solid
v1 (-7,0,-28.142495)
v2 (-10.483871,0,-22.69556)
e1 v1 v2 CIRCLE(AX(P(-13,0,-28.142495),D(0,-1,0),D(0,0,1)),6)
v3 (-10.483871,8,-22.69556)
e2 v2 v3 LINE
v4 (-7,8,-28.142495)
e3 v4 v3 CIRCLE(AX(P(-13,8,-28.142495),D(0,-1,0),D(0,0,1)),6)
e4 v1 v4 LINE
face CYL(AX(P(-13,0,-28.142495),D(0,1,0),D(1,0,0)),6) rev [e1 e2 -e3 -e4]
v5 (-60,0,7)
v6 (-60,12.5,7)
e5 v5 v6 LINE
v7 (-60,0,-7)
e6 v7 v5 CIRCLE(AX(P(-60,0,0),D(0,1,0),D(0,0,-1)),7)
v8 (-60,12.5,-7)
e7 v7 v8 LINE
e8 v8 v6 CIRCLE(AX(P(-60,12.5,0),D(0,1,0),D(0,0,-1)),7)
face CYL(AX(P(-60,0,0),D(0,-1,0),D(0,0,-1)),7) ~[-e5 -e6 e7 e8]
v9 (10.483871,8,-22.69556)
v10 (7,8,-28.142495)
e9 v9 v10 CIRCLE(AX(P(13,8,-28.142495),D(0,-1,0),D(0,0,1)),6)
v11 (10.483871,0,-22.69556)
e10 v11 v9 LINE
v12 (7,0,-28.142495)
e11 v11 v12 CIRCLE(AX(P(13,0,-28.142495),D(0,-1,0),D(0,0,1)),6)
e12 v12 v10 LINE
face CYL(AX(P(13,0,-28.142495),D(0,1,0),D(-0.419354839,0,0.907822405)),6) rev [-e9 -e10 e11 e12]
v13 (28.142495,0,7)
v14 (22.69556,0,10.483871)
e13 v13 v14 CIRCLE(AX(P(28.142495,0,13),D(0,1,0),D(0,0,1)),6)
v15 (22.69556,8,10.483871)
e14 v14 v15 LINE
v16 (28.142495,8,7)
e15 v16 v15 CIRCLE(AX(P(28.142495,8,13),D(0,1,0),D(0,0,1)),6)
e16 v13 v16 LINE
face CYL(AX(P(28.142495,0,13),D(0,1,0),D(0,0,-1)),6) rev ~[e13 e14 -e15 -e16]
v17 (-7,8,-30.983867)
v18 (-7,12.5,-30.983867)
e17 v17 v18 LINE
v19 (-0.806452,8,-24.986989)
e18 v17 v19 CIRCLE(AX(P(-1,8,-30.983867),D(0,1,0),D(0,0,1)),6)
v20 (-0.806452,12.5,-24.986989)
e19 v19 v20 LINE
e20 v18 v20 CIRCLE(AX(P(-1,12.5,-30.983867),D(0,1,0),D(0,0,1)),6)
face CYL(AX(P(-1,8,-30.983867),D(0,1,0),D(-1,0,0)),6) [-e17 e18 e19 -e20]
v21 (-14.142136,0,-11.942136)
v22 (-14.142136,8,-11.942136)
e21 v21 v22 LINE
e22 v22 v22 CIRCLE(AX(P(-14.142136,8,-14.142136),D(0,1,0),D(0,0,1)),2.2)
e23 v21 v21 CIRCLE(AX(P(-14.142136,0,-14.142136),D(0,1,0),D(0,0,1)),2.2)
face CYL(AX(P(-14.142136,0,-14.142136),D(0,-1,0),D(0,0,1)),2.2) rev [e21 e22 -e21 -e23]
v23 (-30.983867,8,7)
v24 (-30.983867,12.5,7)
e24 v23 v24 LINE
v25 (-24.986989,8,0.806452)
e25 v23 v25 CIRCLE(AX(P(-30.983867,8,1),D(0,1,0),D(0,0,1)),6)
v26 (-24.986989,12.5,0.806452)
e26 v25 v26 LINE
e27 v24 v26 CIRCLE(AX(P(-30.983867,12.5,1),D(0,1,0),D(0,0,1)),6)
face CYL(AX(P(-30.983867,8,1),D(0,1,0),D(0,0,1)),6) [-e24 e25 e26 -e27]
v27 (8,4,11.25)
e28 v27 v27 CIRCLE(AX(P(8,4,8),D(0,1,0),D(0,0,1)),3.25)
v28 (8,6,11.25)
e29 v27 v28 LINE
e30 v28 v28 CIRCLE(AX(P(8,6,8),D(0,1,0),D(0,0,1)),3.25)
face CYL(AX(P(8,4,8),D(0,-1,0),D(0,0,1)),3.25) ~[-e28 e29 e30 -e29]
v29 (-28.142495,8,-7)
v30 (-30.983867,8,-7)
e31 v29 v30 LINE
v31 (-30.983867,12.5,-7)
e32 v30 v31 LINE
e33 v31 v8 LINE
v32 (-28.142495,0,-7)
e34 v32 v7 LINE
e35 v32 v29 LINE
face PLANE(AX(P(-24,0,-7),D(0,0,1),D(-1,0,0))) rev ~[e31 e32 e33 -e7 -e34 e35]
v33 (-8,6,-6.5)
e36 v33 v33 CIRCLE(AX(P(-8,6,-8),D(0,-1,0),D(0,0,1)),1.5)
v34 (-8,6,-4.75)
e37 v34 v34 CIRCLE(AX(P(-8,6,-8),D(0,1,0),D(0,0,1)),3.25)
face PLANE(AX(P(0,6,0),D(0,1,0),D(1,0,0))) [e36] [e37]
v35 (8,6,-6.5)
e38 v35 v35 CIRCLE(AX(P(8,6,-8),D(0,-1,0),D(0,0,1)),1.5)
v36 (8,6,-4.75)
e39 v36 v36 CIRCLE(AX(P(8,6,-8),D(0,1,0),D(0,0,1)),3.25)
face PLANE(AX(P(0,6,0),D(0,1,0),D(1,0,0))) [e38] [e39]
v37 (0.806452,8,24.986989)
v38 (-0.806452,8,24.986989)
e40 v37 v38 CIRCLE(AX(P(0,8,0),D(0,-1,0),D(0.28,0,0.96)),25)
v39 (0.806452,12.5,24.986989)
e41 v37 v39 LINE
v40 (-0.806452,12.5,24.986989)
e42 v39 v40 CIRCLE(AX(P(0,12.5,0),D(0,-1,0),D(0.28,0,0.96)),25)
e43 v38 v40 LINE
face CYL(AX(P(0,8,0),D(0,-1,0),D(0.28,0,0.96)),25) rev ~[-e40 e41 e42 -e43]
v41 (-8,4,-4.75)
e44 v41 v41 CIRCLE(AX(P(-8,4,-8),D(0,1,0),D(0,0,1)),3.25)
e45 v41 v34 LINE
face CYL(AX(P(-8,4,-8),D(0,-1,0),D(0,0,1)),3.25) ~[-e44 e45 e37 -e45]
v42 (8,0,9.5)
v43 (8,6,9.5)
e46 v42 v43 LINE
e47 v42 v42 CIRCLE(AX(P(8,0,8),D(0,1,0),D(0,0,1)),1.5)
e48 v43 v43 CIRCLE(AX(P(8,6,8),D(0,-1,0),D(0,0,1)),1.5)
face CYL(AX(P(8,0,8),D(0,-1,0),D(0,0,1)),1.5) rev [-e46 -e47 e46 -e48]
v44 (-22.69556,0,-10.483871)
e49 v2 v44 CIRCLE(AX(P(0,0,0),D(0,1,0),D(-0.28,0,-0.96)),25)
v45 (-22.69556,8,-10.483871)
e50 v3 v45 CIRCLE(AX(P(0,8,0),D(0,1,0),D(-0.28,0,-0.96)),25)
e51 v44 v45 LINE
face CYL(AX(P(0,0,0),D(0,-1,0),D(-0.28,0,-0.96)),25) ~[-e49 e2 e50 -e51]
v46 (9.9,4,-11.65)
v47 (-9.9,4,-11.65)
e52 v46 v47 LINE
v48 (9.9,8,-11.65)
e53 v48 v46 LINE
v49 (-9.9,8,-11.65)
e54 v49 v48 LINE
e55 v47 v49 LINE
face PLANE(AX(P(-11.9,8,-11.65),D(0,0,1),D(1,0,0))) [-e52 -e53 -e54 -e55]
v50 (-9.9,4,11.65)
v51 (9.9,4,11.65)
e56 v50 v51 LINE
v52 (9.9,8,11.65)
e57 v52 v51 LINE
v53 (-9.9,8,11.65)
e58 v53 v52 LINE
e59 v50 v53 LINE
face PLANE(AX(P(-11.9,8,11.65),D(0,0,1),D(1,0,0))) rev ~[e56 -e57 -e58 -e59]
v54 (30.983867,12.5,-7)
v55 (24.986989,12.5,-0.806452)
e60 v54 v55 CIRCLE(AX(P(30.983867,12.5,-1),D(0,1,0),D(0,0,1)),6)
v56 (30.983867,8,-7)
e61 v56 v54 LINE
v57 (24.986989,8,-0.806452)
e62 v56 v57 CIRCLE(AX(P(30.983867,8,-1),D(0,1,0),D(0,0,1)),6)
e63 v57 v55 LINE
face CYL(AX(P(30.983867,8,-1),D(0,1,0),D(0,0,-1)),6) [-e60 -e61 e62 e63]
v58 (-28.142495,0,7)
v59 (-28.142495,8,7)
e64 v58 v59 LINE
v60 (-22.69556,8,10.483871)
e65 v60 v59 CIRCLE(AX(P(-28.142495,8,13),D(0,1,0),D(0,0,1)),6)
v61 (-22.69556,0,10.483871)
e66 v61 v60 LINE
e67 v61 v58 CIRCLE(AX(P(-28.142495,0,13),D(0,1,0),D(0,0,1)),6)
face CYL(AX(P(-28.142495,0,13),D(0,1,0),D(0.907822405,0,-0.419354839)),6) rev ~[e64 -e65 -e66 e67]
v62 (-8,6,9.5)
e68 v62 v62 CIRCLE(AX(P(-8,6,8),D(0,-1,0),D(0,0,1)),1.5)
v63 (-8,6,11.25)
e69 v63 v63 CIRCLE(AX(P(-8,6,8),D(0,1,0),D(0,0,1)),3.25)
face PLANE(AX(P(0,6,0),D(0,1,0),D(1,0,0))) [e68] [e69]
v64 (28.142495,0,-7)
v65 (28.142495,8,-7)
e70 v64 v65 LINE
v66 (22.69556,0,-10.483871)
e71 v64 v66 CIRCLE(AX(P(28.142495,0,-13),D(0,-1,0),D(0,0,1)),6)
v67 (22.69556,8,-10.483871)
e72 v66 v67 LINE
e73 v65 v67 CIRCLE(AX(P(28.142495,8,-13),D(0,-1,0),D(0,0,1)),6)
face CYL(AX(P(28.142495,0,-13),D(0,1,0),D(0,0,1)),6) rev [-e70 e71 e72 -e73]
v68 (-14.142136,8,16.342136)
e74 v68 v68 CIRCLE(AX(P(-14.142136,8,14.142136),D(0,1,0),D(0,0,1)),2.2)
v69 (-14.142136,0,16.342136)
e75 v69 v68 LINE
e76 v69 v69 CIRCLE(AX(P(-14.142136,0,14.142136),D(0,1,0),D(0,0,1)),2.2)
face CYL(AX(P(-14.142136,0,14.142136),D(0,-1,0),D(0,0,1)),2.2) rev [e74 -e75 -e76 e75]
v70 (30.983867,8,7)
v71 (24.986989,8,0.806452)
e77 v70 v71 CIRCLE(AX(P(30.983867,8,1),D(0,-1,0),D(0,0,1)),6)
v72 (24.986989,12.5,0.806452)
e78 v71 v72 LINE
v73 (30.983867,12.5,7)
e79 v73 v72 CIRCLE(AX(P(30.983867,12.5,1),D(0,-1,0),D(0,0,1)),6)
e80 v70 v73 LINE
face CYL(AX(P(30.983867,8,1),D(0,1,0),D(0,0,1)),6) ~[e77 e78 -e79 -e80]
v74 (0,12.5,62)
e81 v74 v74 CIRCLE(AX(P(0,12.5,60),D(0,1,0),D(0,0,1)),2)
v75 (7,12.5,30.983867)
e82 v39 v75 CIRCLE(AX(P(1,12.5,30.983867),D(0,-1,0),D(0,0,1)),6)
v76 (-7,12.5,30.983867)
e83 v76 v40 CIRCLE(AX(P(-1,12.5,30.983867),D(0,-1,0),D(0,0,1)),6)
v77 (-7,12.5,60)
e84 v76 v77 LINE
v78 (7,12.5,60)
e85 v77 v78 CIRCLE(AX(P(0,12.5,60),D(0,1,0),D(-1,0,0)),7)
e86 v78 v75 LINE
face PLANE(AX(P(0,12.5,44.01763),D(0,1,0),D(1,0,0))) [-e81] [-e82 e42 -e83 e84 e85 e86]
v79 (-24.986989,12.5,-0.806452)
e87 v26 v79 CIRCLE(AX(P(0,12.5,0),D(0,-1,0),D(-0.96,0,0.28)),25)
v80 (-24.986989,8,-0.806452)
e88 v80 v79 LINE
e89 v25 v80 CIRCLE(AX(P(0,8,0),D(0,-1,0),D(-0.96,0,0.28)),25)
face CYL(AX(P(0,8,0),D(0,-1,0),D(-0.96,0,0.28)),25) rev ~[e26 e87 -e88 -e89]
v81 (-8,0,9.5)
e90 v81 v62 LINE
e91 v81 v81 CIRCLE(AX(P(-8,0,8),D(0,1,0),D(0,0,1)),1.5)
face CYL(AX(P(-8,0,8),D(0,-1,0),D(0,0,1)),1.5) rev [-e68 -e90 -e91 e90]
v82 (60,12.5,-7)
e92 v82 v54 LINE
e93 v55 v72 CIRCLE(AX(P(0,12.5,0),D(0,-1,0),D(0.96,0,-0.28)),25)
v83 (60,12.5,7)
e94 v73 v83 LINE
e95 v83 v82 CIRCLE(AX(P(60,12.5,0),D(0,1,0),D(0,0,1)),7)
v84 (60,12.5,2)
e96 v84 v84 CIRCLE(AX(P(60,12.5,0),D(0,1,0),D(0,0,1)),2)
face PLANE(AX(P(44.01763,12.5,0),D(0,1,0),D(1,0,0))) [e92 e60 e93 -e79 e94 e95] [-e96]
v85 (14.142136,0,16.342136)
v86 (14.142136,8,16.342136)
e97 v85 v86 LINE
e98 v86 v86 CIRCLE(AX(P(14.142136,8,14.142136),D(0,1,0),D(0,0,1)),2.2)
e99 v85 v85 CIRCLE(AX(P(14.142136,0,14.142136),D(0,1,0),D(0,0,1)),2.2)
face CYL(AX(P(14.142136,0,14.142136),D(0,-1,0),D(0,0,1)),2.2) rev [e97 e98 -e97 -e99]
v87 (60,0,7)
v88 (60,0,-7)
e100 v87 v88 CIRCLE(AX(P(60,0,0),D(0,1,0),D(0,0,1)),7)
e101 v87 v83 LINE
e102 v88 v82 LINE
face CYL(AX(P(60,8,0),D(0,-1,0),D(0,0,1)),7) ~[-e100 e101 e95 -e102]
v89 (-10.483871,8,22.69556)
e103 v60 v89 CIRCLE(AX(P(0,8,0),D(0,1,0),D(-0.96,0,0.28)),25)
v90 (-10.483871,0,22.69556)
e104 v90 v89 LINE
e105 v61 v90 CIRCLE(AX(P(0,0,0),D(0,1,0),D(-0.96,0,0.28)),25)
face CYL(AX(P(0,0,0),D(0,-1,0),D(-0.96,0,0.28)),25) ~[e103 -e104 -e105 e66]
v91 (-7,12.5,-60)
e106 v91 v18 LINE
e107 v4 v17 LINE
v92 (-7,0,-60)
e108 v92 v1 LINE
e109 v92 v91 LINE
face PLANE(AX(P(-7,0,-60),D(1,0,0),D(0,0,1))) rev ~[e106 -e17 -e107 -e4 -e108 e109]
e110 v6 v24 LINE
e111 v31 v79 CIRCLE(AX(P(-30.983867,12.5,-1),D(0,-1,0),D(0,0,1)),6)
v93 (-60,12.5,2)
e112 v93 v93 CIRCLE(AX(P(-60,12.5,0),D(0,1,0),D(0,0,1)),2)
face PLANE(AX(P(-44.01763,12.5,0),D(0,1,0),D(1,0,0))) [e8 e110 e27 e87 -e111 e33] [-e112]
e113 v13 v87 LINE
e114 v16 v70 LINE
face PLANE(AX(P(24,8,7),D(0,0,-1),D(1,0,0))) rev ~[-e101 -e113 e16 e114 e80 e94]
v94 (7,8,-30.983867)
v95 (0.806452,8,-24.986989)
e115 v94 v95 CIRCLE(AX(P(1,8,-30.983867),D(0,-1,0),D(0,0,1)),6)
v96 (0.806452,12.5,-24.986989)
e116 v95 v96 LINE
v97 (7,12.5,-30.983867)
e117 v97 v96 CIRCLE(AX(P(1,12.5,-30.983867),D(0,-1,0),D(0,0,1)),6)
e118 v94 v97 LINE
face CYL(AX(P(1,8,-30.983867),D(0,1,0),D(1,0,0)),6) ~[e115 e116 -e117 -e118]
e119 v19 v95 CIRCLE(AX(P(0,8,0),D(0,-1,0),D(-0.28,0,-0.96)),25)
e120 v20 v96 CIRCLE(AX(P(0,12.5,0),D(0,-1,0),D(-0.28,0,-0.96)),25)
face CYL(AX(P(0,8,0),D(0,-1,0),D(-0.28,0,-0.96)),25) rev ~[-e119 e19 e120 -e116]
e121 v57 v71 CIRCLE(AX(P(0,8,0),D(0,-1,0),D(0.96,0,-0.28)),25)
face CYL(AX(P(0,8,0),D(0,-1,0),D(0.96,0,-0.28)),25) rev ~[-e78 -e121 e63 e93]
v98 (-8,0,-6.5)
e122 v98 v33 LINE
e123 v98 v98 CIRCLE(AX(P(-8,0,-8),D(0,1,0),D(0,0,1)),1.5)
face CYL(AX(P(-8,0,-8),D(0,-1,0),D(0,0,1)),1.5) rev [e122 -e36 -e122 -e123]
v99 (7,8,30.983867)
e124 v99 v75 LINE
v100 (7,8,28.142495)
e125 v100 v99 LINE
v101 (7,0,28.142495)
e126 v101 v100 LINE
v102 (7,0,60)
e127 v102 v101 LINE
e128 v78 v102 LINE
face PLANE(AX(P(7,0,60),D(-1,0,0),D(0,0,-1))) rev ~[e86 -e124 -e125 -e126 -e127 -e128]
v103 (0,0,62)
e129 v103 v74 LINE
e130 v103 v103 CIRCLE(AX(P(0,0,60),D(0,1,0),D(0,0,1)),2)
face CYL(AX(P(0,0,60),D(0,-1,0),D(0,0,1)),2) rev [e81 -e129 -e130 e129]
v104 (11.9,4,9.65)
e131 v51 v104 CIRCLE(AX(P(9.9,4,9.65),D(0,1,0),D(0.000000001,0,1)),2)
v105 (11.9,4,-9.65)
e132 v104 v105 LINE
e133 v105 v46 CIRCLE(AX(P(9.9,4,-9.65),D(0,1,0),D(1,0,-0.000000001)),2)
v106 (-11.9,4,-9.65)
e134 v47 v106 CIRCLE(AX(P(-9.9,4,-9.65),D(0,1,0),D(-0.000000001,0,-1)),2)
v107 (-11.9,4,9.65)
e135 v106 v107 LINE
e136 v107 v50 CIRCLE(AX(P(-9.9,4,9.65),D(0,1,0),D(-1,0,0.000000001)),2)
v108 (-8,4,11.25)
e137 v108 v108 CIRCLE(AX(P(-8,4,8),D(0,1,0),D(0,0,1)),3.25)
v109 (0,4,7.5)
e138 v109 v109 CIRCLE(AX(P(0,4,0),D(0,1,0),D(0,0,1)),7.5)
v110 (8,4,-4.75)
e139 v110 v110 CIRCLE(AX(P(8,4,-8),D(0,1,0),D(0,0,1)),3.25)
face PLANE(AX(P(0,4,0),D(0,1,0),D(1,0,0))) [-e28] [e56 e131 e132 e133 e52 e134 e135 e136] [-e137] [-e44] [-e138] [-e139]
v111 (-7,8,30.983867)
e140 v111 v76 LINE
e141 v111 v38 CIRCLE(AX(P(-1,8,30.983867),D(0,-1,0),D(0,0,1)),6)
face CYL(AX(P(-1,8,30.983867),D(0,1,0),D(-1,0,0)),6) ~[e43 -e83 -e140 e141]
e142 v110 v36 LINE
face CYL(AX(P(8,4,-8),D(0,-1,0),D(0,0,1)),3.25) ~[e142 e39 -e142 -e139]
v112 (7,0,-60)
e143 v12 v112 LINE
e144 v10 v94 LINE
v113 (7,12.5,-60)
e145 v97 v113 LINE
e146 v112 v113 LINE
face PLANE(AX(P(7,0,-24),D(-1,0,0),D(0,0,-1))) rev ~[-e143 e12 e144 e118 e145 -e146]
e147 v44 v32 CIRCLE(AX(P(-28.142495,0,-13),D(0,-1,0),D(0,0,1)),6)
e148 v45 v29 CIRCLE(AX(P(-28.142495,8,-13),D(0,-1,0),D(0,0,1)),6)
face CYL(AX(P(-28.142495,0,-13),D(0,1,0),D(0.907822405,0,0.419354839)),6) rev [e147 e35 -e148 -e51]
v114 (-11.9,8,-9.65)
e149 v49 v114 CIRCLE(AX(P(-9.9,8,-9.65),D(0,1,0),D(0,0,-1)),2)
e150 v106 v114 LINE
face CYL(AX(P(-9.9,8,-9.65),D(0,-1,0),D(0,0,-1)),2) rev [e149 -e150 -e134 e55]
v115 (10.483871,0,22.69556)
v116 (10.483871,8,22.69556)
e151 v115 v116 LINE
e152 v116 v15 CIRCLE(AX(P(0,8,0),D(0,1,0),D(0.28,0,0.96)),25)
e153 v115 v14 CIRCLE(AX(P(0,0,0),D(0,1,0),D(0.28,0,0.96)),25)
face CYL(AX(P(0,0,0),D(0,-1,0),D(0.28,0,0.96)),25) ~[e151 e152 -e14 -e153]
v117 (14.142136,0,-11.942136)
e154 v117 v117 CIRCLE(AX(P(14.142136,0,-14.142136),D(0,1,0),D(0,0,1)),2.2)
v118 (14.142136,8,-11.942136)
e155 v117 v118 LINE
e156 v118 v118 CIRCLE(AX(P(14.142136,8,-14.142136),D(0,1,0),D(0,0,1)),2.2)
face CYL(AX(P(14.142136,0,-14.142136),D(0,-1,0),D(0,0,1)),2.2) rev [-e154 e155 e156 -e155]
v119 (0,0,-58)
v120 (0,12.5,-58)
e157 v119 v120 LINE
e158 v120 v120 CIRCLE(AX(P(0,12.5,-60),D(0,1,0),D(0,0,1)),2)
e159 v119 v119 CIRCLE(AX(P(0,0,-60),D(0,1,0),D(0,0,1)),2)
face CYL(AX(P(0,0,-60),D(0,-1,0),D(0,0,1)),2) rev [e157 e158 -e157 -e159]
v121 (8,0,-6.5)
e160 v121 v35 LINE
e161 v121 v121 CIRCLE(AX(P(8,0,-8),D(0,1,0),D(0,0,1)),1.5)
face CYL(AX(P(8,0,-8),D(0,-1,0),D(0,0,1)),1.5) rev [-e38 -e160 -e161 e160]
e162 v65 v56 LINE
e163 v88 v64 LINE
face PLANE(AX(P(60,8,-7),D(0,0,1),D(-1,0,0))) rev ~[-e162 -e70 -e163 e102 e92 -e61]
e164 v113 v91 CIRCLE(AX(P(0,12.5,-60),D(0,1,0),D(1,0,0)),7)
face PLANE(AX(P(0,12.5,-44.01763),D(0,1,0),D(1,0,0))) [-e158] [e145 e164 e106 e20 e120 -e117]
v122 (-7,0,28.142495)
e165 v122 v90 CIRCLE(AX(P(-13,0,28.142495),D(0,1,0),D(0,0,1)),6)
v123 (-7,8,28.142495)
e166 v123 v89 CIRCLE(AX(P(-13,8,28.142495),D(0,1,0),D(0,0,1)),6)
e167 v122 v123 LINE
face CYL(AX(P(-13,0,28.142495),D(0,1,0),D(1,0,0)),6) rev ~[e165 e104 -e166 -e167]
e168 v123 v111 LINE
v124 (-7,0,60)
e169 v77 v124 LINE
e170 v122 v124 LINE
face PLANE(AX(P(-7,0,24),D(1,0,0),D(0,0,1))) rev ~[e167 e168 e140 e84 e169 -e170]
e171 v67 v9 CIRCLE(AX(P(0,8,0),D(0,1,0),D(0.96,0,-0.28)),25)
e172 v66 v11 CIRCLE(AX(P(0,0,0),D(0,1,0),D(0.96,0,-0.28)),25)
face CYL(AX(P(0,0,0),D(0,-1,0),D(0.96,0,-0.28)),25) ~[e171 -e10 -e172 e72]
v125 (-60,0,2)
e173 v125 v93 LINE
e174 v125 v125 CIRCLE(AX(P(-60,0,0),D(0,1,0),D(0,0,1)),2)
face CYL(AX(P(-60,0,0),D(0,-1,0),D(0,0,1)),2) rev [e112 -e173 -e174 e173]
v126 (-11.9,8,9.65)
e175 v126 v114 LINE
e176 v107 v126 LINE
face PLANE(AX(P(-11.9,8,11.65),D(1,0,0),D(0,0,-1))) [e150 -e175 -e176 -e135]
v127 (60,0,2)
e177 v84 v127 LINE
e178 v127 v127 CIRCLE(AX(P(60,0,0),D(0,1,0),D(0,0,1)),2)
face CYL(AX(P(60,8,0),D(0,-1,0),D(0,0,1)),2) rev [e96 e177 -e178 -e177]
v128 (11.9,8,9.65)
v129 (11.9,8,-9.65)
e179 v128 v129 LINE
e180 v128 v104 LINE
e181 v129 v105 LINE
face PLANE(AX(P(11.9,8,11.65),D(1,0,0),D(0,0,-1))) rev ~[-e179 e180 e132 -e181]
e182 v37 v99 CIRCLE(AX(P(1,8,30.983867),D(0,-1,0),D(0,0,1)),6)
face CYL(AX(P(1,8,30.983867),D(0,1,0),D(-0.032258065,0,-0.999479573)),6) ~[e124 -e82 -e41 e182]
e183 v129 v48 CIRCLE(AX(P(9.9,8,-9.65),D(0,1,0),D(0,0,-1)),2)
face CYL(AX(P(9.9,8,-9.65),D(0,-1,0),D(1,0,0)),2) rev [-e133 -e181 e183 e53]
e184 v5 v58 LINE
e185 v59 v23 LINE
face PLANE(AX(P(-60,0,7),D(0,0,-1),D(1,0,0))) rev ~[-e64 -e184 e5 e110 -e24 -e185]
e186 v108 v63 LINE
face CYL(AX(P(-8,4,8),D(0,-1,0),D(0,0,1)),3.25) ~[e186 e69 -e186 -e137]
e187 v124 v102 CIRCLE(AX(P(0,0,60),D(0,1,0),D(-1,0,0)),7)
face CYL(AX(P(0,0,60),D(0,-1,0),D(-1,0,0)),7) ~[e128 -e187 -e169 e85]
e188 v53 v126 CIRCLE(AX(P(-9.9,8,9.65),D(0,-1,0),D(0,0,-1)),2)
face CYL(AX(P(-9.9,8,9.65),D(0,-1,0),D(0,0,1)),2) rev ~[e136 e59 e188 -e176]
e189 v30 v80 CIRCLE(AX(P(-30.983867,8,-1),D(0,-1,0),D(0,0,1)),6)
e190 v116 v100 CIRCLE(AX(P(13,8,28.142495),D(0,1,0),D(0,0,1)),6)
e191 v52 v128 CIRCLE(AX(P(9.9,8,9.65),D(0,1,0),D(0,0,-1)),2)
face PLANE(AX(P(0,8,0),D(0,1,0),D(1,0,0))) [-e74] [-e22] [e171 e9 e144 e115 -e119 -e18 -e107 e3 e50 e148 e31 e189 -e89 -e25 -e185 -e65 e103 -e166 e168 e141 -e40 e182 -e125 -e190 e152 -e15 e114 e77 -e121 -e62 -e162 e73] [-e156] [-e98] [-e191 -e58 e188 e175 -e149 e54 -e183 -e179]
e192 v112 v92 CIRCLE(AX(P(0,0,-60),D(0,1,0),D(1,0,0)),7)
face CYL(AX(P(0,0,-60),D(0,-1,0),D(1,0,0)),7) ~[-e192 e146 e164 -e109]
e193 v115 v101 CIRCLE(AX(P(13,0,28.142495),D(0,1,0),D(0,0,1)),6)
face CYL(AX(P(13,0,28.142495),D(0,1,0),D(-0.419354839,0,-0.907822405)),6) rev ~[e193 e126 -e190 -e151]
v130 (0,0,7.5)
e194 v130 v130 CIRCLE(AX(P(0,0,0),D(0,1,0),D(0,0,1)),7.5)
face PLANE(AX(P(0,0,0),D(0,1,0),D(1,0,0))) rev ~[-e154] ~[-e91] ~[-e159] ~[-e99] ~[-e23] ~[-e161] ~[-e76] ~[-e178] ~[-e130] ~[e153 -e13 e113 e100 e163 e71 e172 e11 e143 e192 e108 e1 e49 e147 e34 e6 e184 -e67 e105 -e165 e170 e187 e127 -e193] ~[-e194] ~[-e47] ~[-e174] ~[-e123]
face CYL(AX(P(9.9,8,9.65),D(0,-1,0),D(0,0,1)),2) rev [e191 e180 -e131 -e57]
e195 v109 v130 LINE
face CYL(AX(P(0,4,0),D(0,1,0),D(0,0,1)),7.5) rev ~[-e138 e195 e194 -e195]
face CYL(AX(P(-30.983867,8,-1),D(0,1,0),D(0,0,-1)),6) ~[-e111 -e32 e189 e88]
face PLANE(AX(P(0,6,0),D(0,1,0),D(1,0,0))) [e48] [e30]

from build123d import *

# Parameters (mm, degrees)
ESQUISSE1_R             = 2.2
ESQUISSE1_R_2           = 1.5
ESQUISSE1_R_3           = 2
BOSS_EXTRU_1_DEPTH      = 8
ESQUISSE2_W             = 23.8
ESQUISSE2_H             = 23.3
ENL_V_MAT_EXTRU_1_DEPTH = 2
CONG_1_R                = 2
ENL_V_START             = -2
ESQUISSE4_R             = 3.25
ENL_V_MAT_EXTRU_2_DEPTH = 2
ESQUISSE5_R             = 7.5
ENL_V_MAT_EXTRU_3_DEPTH = 95.836701756
ESQUISSE6_R             = 2
BOSS_EXTRU_2_DEPTH      = 4.5
CONG_2_R                = 6
CONG_3_R                = 6


with BuildPart() as part:
    # Esquisse1 → Boss.-Extru.1 (new body)
    with BuildSketch(Plane(origin=(0, 0, 0), x_dir=(1, 0, 0), z_dir=(0, 1, 0))):
        with BuildLine():
            Line((60, 7), (24, 7))
            ThreePointArc((24, 7), (17.67766953, 17.67766953), (7, 24))
            Line((7, 24), (7, 60))
            ThreePointArc((7, 60), (0, 67), (-7, 60))
            Line((-7, 60), (-7, 24))
            ThreePointArc((-7, 24), (-17.67766953, 17.67766953), (-24, 7))
            Line((-24, 7), (-60, 7))
            ThreePointArc((-60, 7), (-67, 0), (-60, -7))
            Line((-60, -7), (-24, -7))
            ThreePointArc((-24, -7), (-17.67766953, -17.67766953), (-7, -24))
            Line((-7, -24), (-7, -60))
            ThreePointArc((-7, -60), (0, -67), (7, -60))
            Line((7, -60), (7, -24))
            ThreePointArc((7, -24), (17.67766953, -17.67766953), (24, -7))
            Line((24, -7), (60, -7))
            ThreePointArc((60, -7), (67, 0), (60, 7))
        make_face()
        with Locations(Location((14.142135624, 14.142135624, 0), (0, 0, 270))):
            Circle(ESQUISSE1_R, mode=Mode.SUBTRACT)
        with Locations(Location((14.142135624, -14.142135624, 0), (0, 0, 270))):
            Circle(ESQUISSE1_R, mode=Mode.SUBTRACT)
        with Locations(Location((-14.142135624, -14.142135624, 0), (0, 0, 270))):
            Circle(ESQUISSE1_R, mode=Mode.SUBTRACT)
        with Locations(Location((-14.142135624, 14.142135624, 0), (0, 0, 270))):
            Circle(ESQUISSE1_R, mode=Mode.SUBTRACT)
        with Locations(Location((-8, 8, 0), (0, 0, 270))):
            Circle(ESQUISSE1_R_2, mode=Mode.SUBTRACT)
        with Locations(Location((-8, -8, 0), (0, 0, 270))):
            Circle(ESQUISSE1_R_2, mode=Mode.SUBTRACT)
        with Locations(Location((8, -8, 0), (0, 0, 270))):
            Circle(ESQUISSE1_R_2, mode=Mode.SUBTRACT)
        with Locations(Location((8, 8, 0), (0, 0, 270))):
            Circle(ESQUISSE1_R_2, mode=Mode.SUBTRACT)
        with Locations(Location((60, 0, 0), (0, 0, 270))):
            Circle(ESQUISSE1_R_3, mode=Mode.SUBTRACT)
        with Locations(Location((0, -60, 0), (0, 0, 270))):
            Circle(ESQUISSE1_R_3, mode=Mode.SUBTRACT)
        with Locations(Location((-60, 0, 0), (0, 0, 270))):
            Circle(ESQUISSE1_R_3, mode=Mode.SUBTRACT)
        with Locations(Location((0, 60, 0), (0, 0, 270))):
            Circle(ESQUISSE1_R_3, mode=Mode.SUBTRACT)
    extrude(amount=BOSS_EXTRU_1_DEPTH)

    # Esquisse2 → Enlèv. mat.-Extru.1 (cut)
    with BuildSketch(Plane(origin=(0, 8, 0), x_dir=(1, 0, 0), z_dir=(0, 1, 0))):
        Rectangle(ESQUISSE2_W, ESQUISSE2_H)
    extrude(amount=-ENL_V_MAT_EXTRU_1_DEPTH, mode=Mode.SUBTRACT)

    # Congé1
    cong_1_edges = [part.edges().sort_by_distance(p)[0] for p in [
        (-11.9, 7, 11.65),
        (-11.9, 7, -11.65),
        (11.9, 7, -11.65),
        (11.9, 7, 11.65),
    ]]
    fillet(cong_1_edges, radius=CONG_1_R)

    # Esquisse4 → Enlèv. mat.-Extru.2 (cut)
    with BuildSketch(Plane(origin=(0, 6, 0), x_dir=(1, 0, 0), z_dir=(0, 1, 0)).offset(ENL_V_START)):
        with BuildLine():
            Line((-11.9, 9.65), (-11.9, -9.65))
            ThreePointArc((-11.9, -9.65), (-11.314213562, -11.064213562), (-9.9, -11.65))
            Line((-9.9, -11.65), (9.9, -11.65))
            ThreePointArc((9.9, -11.65), (11.314213562, -11.064213562), (11.9, -9.65))
            Line((11.9, -9.65), (11.9, 9.65))
            ThreePointArc((11.9, 9.65), (11.314213562, 11.064213562), (9.9, 11.65))
            Line((9.9, 11.65), (-9.9, 11.65))
            ThreePointArc((-9.9, 11.65), (-11.314213562, 11.064213562), (-11.9, 9.65))
        make_face()
        with Locations(Location((8, 8, 0), (0, 0, 270))):
            Circle(ESQUISSE4_R, mode=Mode.SUBTRACT)
        with Locations(Location((-8, 8, 0), (0, 0, 270))):
            Circle(ESQUISSE4_R, mode=Mode.SUBTRACT)
        with Locations(Location((-8, -8, 0), (0, 0, 270))):
            Circle(ESQUISSE4_R, mode=Mode.SUBTRACT)
        with Locations(Location((8, -8, 0), (0, 0, 270))):
            Circle(ESQUISSE4_R, mode=Mode.SUBTRACT)
    extrude(amount=ENL_V_MAT_EXTRU_2_DEPTH, mode=Mode.SUBTRACT)

    # Esquisse5 → Enlèv. mat.-Extru.3 (cut, through all)
    with BuildSketch(Plane(origin=(0, 4, 0), x_dir=(1, 0, 0), z_dir=(0, 1, 0))):
        with Locations(Location((0, 0, 0), (0, 0, 270))):
            Circle(ESQUISSE5_R)
    extrude(amount=-ENL_V_MAT_EXTRU_3_DEPTH, mode=Mode.SUBTRACT)

    # Esquisse6 → Boss.-Extru.2 (add)
    # profile 1 of 4: a face of its own
    with BuildSketch(Plane(origin=(0, 8, 0), x_dir=(1, 0, 0), z_dir=(0, 1, 0))):
        with BuildLine():
            Line((24, -7), (60, -7))
            ThreePointArc((60, -7), (67, 0), (60, 7))
            Line((60, 7), (24, 7))
            ThreePointArc((24, 7), (25, 0), (24, -7))
        make_face()
        with Locations(Location((60, 0, 0), (0, 0, 270))):
            Circle(ESQUISSE6_R, mode=Mode.SUBTRACT)
    # profile 2 of 4: a face of its own
    with BuildSketch(Plane(origin=(0, 8, 0), x_dir=(1, 0, 0), z_dir=(0, 1, 0))):
        with BuildLine():
            Line((7, 24), (7, 60))
            ThreePointArc((7, 60), (0, 67), (-7, 60))
            Line((-7, 60), (-7, 24))
            ThreePointArc((-7, 24), (0, 25), (7, 24))
        make_face()
        with Locations(Location((0, 60, 0), (0, 0, 270))):
            Circle(ESQUISSE6_R, mode=Mode.SUBTRACT)
    # profile 3 of 4: a face of its own
    with BuildSketch(Plane(origin=(0, 8, 0), x_dir=(1, 0, 0), z_dir=(0, 1, 0))):
        with BuildLine():
            Line((-24, 7), (-60, 7))
            ThreePointArc((-60, 7), (-67, 0), (-60, -7))
            Line((-60, -7), (-24, -7))
            ThreePointArc((-24, -7), (-25, 0), (-24, 7))
        make_face()
        with Locations(Location((-60, 0, 0), (0, 0, 270))):
            Circle(ESQUISSE6_R, mode=Mode.SUBTRACT)
    # profile 4 of 4: a face of its own
    with BuildSketch(Plane(origin=(0, 8, 0), x_dir=(1, 0, 0), z_dir=(0, 1, 0))):
        with BuildLine():
            Line((-7, -24), (-7, -60))
            ThreePointArc((-7, -60), (0, -67), (7, -60))
            Line((7, -60), (7, -24))
            ThreePointArc((7, -24), (0, -25), (-7, -24))
        make_face()
        with Locations(Location((0, -60, 0), (0, 0, 270))):
            Circle(ESQUISSE6_R, mode=Mode.SUBTRACT)
    extrude(amount=BOSS_EXTRU_2_DEPTH)

    # Congé2
    cong_2_edges = [part.edges().sort_by_distance(p)[0] for p in [
        (7, 10.25, 24),
        (-7, 10.25, 24),
        (24, 10.25, -7),
        (24, 10.25, 7),
        (-7, 10.25, -24),
        (7, 10.25, -24),
        (-24, 10.25, 7),
        (-24, 10.25, -7),
    ]]
    fillet(cong_2_edges, radius=CONG_2_R)

    # Congé3
    cong_3_edges = [part.edges().sort_by_distance(p)[0] for p in [
        (7, 4, 24),
        (-7, 4, 24),
        (-24, 4, 7),
        (-24, 4, -7),
        (-7, 4, -24),
        (7, 4, -24),
        (24, 4, -7),
        (24, 4, 7),
    ]]
    fillet(cong_3_edges, radius=CONG_3_R)


solid = part.part
